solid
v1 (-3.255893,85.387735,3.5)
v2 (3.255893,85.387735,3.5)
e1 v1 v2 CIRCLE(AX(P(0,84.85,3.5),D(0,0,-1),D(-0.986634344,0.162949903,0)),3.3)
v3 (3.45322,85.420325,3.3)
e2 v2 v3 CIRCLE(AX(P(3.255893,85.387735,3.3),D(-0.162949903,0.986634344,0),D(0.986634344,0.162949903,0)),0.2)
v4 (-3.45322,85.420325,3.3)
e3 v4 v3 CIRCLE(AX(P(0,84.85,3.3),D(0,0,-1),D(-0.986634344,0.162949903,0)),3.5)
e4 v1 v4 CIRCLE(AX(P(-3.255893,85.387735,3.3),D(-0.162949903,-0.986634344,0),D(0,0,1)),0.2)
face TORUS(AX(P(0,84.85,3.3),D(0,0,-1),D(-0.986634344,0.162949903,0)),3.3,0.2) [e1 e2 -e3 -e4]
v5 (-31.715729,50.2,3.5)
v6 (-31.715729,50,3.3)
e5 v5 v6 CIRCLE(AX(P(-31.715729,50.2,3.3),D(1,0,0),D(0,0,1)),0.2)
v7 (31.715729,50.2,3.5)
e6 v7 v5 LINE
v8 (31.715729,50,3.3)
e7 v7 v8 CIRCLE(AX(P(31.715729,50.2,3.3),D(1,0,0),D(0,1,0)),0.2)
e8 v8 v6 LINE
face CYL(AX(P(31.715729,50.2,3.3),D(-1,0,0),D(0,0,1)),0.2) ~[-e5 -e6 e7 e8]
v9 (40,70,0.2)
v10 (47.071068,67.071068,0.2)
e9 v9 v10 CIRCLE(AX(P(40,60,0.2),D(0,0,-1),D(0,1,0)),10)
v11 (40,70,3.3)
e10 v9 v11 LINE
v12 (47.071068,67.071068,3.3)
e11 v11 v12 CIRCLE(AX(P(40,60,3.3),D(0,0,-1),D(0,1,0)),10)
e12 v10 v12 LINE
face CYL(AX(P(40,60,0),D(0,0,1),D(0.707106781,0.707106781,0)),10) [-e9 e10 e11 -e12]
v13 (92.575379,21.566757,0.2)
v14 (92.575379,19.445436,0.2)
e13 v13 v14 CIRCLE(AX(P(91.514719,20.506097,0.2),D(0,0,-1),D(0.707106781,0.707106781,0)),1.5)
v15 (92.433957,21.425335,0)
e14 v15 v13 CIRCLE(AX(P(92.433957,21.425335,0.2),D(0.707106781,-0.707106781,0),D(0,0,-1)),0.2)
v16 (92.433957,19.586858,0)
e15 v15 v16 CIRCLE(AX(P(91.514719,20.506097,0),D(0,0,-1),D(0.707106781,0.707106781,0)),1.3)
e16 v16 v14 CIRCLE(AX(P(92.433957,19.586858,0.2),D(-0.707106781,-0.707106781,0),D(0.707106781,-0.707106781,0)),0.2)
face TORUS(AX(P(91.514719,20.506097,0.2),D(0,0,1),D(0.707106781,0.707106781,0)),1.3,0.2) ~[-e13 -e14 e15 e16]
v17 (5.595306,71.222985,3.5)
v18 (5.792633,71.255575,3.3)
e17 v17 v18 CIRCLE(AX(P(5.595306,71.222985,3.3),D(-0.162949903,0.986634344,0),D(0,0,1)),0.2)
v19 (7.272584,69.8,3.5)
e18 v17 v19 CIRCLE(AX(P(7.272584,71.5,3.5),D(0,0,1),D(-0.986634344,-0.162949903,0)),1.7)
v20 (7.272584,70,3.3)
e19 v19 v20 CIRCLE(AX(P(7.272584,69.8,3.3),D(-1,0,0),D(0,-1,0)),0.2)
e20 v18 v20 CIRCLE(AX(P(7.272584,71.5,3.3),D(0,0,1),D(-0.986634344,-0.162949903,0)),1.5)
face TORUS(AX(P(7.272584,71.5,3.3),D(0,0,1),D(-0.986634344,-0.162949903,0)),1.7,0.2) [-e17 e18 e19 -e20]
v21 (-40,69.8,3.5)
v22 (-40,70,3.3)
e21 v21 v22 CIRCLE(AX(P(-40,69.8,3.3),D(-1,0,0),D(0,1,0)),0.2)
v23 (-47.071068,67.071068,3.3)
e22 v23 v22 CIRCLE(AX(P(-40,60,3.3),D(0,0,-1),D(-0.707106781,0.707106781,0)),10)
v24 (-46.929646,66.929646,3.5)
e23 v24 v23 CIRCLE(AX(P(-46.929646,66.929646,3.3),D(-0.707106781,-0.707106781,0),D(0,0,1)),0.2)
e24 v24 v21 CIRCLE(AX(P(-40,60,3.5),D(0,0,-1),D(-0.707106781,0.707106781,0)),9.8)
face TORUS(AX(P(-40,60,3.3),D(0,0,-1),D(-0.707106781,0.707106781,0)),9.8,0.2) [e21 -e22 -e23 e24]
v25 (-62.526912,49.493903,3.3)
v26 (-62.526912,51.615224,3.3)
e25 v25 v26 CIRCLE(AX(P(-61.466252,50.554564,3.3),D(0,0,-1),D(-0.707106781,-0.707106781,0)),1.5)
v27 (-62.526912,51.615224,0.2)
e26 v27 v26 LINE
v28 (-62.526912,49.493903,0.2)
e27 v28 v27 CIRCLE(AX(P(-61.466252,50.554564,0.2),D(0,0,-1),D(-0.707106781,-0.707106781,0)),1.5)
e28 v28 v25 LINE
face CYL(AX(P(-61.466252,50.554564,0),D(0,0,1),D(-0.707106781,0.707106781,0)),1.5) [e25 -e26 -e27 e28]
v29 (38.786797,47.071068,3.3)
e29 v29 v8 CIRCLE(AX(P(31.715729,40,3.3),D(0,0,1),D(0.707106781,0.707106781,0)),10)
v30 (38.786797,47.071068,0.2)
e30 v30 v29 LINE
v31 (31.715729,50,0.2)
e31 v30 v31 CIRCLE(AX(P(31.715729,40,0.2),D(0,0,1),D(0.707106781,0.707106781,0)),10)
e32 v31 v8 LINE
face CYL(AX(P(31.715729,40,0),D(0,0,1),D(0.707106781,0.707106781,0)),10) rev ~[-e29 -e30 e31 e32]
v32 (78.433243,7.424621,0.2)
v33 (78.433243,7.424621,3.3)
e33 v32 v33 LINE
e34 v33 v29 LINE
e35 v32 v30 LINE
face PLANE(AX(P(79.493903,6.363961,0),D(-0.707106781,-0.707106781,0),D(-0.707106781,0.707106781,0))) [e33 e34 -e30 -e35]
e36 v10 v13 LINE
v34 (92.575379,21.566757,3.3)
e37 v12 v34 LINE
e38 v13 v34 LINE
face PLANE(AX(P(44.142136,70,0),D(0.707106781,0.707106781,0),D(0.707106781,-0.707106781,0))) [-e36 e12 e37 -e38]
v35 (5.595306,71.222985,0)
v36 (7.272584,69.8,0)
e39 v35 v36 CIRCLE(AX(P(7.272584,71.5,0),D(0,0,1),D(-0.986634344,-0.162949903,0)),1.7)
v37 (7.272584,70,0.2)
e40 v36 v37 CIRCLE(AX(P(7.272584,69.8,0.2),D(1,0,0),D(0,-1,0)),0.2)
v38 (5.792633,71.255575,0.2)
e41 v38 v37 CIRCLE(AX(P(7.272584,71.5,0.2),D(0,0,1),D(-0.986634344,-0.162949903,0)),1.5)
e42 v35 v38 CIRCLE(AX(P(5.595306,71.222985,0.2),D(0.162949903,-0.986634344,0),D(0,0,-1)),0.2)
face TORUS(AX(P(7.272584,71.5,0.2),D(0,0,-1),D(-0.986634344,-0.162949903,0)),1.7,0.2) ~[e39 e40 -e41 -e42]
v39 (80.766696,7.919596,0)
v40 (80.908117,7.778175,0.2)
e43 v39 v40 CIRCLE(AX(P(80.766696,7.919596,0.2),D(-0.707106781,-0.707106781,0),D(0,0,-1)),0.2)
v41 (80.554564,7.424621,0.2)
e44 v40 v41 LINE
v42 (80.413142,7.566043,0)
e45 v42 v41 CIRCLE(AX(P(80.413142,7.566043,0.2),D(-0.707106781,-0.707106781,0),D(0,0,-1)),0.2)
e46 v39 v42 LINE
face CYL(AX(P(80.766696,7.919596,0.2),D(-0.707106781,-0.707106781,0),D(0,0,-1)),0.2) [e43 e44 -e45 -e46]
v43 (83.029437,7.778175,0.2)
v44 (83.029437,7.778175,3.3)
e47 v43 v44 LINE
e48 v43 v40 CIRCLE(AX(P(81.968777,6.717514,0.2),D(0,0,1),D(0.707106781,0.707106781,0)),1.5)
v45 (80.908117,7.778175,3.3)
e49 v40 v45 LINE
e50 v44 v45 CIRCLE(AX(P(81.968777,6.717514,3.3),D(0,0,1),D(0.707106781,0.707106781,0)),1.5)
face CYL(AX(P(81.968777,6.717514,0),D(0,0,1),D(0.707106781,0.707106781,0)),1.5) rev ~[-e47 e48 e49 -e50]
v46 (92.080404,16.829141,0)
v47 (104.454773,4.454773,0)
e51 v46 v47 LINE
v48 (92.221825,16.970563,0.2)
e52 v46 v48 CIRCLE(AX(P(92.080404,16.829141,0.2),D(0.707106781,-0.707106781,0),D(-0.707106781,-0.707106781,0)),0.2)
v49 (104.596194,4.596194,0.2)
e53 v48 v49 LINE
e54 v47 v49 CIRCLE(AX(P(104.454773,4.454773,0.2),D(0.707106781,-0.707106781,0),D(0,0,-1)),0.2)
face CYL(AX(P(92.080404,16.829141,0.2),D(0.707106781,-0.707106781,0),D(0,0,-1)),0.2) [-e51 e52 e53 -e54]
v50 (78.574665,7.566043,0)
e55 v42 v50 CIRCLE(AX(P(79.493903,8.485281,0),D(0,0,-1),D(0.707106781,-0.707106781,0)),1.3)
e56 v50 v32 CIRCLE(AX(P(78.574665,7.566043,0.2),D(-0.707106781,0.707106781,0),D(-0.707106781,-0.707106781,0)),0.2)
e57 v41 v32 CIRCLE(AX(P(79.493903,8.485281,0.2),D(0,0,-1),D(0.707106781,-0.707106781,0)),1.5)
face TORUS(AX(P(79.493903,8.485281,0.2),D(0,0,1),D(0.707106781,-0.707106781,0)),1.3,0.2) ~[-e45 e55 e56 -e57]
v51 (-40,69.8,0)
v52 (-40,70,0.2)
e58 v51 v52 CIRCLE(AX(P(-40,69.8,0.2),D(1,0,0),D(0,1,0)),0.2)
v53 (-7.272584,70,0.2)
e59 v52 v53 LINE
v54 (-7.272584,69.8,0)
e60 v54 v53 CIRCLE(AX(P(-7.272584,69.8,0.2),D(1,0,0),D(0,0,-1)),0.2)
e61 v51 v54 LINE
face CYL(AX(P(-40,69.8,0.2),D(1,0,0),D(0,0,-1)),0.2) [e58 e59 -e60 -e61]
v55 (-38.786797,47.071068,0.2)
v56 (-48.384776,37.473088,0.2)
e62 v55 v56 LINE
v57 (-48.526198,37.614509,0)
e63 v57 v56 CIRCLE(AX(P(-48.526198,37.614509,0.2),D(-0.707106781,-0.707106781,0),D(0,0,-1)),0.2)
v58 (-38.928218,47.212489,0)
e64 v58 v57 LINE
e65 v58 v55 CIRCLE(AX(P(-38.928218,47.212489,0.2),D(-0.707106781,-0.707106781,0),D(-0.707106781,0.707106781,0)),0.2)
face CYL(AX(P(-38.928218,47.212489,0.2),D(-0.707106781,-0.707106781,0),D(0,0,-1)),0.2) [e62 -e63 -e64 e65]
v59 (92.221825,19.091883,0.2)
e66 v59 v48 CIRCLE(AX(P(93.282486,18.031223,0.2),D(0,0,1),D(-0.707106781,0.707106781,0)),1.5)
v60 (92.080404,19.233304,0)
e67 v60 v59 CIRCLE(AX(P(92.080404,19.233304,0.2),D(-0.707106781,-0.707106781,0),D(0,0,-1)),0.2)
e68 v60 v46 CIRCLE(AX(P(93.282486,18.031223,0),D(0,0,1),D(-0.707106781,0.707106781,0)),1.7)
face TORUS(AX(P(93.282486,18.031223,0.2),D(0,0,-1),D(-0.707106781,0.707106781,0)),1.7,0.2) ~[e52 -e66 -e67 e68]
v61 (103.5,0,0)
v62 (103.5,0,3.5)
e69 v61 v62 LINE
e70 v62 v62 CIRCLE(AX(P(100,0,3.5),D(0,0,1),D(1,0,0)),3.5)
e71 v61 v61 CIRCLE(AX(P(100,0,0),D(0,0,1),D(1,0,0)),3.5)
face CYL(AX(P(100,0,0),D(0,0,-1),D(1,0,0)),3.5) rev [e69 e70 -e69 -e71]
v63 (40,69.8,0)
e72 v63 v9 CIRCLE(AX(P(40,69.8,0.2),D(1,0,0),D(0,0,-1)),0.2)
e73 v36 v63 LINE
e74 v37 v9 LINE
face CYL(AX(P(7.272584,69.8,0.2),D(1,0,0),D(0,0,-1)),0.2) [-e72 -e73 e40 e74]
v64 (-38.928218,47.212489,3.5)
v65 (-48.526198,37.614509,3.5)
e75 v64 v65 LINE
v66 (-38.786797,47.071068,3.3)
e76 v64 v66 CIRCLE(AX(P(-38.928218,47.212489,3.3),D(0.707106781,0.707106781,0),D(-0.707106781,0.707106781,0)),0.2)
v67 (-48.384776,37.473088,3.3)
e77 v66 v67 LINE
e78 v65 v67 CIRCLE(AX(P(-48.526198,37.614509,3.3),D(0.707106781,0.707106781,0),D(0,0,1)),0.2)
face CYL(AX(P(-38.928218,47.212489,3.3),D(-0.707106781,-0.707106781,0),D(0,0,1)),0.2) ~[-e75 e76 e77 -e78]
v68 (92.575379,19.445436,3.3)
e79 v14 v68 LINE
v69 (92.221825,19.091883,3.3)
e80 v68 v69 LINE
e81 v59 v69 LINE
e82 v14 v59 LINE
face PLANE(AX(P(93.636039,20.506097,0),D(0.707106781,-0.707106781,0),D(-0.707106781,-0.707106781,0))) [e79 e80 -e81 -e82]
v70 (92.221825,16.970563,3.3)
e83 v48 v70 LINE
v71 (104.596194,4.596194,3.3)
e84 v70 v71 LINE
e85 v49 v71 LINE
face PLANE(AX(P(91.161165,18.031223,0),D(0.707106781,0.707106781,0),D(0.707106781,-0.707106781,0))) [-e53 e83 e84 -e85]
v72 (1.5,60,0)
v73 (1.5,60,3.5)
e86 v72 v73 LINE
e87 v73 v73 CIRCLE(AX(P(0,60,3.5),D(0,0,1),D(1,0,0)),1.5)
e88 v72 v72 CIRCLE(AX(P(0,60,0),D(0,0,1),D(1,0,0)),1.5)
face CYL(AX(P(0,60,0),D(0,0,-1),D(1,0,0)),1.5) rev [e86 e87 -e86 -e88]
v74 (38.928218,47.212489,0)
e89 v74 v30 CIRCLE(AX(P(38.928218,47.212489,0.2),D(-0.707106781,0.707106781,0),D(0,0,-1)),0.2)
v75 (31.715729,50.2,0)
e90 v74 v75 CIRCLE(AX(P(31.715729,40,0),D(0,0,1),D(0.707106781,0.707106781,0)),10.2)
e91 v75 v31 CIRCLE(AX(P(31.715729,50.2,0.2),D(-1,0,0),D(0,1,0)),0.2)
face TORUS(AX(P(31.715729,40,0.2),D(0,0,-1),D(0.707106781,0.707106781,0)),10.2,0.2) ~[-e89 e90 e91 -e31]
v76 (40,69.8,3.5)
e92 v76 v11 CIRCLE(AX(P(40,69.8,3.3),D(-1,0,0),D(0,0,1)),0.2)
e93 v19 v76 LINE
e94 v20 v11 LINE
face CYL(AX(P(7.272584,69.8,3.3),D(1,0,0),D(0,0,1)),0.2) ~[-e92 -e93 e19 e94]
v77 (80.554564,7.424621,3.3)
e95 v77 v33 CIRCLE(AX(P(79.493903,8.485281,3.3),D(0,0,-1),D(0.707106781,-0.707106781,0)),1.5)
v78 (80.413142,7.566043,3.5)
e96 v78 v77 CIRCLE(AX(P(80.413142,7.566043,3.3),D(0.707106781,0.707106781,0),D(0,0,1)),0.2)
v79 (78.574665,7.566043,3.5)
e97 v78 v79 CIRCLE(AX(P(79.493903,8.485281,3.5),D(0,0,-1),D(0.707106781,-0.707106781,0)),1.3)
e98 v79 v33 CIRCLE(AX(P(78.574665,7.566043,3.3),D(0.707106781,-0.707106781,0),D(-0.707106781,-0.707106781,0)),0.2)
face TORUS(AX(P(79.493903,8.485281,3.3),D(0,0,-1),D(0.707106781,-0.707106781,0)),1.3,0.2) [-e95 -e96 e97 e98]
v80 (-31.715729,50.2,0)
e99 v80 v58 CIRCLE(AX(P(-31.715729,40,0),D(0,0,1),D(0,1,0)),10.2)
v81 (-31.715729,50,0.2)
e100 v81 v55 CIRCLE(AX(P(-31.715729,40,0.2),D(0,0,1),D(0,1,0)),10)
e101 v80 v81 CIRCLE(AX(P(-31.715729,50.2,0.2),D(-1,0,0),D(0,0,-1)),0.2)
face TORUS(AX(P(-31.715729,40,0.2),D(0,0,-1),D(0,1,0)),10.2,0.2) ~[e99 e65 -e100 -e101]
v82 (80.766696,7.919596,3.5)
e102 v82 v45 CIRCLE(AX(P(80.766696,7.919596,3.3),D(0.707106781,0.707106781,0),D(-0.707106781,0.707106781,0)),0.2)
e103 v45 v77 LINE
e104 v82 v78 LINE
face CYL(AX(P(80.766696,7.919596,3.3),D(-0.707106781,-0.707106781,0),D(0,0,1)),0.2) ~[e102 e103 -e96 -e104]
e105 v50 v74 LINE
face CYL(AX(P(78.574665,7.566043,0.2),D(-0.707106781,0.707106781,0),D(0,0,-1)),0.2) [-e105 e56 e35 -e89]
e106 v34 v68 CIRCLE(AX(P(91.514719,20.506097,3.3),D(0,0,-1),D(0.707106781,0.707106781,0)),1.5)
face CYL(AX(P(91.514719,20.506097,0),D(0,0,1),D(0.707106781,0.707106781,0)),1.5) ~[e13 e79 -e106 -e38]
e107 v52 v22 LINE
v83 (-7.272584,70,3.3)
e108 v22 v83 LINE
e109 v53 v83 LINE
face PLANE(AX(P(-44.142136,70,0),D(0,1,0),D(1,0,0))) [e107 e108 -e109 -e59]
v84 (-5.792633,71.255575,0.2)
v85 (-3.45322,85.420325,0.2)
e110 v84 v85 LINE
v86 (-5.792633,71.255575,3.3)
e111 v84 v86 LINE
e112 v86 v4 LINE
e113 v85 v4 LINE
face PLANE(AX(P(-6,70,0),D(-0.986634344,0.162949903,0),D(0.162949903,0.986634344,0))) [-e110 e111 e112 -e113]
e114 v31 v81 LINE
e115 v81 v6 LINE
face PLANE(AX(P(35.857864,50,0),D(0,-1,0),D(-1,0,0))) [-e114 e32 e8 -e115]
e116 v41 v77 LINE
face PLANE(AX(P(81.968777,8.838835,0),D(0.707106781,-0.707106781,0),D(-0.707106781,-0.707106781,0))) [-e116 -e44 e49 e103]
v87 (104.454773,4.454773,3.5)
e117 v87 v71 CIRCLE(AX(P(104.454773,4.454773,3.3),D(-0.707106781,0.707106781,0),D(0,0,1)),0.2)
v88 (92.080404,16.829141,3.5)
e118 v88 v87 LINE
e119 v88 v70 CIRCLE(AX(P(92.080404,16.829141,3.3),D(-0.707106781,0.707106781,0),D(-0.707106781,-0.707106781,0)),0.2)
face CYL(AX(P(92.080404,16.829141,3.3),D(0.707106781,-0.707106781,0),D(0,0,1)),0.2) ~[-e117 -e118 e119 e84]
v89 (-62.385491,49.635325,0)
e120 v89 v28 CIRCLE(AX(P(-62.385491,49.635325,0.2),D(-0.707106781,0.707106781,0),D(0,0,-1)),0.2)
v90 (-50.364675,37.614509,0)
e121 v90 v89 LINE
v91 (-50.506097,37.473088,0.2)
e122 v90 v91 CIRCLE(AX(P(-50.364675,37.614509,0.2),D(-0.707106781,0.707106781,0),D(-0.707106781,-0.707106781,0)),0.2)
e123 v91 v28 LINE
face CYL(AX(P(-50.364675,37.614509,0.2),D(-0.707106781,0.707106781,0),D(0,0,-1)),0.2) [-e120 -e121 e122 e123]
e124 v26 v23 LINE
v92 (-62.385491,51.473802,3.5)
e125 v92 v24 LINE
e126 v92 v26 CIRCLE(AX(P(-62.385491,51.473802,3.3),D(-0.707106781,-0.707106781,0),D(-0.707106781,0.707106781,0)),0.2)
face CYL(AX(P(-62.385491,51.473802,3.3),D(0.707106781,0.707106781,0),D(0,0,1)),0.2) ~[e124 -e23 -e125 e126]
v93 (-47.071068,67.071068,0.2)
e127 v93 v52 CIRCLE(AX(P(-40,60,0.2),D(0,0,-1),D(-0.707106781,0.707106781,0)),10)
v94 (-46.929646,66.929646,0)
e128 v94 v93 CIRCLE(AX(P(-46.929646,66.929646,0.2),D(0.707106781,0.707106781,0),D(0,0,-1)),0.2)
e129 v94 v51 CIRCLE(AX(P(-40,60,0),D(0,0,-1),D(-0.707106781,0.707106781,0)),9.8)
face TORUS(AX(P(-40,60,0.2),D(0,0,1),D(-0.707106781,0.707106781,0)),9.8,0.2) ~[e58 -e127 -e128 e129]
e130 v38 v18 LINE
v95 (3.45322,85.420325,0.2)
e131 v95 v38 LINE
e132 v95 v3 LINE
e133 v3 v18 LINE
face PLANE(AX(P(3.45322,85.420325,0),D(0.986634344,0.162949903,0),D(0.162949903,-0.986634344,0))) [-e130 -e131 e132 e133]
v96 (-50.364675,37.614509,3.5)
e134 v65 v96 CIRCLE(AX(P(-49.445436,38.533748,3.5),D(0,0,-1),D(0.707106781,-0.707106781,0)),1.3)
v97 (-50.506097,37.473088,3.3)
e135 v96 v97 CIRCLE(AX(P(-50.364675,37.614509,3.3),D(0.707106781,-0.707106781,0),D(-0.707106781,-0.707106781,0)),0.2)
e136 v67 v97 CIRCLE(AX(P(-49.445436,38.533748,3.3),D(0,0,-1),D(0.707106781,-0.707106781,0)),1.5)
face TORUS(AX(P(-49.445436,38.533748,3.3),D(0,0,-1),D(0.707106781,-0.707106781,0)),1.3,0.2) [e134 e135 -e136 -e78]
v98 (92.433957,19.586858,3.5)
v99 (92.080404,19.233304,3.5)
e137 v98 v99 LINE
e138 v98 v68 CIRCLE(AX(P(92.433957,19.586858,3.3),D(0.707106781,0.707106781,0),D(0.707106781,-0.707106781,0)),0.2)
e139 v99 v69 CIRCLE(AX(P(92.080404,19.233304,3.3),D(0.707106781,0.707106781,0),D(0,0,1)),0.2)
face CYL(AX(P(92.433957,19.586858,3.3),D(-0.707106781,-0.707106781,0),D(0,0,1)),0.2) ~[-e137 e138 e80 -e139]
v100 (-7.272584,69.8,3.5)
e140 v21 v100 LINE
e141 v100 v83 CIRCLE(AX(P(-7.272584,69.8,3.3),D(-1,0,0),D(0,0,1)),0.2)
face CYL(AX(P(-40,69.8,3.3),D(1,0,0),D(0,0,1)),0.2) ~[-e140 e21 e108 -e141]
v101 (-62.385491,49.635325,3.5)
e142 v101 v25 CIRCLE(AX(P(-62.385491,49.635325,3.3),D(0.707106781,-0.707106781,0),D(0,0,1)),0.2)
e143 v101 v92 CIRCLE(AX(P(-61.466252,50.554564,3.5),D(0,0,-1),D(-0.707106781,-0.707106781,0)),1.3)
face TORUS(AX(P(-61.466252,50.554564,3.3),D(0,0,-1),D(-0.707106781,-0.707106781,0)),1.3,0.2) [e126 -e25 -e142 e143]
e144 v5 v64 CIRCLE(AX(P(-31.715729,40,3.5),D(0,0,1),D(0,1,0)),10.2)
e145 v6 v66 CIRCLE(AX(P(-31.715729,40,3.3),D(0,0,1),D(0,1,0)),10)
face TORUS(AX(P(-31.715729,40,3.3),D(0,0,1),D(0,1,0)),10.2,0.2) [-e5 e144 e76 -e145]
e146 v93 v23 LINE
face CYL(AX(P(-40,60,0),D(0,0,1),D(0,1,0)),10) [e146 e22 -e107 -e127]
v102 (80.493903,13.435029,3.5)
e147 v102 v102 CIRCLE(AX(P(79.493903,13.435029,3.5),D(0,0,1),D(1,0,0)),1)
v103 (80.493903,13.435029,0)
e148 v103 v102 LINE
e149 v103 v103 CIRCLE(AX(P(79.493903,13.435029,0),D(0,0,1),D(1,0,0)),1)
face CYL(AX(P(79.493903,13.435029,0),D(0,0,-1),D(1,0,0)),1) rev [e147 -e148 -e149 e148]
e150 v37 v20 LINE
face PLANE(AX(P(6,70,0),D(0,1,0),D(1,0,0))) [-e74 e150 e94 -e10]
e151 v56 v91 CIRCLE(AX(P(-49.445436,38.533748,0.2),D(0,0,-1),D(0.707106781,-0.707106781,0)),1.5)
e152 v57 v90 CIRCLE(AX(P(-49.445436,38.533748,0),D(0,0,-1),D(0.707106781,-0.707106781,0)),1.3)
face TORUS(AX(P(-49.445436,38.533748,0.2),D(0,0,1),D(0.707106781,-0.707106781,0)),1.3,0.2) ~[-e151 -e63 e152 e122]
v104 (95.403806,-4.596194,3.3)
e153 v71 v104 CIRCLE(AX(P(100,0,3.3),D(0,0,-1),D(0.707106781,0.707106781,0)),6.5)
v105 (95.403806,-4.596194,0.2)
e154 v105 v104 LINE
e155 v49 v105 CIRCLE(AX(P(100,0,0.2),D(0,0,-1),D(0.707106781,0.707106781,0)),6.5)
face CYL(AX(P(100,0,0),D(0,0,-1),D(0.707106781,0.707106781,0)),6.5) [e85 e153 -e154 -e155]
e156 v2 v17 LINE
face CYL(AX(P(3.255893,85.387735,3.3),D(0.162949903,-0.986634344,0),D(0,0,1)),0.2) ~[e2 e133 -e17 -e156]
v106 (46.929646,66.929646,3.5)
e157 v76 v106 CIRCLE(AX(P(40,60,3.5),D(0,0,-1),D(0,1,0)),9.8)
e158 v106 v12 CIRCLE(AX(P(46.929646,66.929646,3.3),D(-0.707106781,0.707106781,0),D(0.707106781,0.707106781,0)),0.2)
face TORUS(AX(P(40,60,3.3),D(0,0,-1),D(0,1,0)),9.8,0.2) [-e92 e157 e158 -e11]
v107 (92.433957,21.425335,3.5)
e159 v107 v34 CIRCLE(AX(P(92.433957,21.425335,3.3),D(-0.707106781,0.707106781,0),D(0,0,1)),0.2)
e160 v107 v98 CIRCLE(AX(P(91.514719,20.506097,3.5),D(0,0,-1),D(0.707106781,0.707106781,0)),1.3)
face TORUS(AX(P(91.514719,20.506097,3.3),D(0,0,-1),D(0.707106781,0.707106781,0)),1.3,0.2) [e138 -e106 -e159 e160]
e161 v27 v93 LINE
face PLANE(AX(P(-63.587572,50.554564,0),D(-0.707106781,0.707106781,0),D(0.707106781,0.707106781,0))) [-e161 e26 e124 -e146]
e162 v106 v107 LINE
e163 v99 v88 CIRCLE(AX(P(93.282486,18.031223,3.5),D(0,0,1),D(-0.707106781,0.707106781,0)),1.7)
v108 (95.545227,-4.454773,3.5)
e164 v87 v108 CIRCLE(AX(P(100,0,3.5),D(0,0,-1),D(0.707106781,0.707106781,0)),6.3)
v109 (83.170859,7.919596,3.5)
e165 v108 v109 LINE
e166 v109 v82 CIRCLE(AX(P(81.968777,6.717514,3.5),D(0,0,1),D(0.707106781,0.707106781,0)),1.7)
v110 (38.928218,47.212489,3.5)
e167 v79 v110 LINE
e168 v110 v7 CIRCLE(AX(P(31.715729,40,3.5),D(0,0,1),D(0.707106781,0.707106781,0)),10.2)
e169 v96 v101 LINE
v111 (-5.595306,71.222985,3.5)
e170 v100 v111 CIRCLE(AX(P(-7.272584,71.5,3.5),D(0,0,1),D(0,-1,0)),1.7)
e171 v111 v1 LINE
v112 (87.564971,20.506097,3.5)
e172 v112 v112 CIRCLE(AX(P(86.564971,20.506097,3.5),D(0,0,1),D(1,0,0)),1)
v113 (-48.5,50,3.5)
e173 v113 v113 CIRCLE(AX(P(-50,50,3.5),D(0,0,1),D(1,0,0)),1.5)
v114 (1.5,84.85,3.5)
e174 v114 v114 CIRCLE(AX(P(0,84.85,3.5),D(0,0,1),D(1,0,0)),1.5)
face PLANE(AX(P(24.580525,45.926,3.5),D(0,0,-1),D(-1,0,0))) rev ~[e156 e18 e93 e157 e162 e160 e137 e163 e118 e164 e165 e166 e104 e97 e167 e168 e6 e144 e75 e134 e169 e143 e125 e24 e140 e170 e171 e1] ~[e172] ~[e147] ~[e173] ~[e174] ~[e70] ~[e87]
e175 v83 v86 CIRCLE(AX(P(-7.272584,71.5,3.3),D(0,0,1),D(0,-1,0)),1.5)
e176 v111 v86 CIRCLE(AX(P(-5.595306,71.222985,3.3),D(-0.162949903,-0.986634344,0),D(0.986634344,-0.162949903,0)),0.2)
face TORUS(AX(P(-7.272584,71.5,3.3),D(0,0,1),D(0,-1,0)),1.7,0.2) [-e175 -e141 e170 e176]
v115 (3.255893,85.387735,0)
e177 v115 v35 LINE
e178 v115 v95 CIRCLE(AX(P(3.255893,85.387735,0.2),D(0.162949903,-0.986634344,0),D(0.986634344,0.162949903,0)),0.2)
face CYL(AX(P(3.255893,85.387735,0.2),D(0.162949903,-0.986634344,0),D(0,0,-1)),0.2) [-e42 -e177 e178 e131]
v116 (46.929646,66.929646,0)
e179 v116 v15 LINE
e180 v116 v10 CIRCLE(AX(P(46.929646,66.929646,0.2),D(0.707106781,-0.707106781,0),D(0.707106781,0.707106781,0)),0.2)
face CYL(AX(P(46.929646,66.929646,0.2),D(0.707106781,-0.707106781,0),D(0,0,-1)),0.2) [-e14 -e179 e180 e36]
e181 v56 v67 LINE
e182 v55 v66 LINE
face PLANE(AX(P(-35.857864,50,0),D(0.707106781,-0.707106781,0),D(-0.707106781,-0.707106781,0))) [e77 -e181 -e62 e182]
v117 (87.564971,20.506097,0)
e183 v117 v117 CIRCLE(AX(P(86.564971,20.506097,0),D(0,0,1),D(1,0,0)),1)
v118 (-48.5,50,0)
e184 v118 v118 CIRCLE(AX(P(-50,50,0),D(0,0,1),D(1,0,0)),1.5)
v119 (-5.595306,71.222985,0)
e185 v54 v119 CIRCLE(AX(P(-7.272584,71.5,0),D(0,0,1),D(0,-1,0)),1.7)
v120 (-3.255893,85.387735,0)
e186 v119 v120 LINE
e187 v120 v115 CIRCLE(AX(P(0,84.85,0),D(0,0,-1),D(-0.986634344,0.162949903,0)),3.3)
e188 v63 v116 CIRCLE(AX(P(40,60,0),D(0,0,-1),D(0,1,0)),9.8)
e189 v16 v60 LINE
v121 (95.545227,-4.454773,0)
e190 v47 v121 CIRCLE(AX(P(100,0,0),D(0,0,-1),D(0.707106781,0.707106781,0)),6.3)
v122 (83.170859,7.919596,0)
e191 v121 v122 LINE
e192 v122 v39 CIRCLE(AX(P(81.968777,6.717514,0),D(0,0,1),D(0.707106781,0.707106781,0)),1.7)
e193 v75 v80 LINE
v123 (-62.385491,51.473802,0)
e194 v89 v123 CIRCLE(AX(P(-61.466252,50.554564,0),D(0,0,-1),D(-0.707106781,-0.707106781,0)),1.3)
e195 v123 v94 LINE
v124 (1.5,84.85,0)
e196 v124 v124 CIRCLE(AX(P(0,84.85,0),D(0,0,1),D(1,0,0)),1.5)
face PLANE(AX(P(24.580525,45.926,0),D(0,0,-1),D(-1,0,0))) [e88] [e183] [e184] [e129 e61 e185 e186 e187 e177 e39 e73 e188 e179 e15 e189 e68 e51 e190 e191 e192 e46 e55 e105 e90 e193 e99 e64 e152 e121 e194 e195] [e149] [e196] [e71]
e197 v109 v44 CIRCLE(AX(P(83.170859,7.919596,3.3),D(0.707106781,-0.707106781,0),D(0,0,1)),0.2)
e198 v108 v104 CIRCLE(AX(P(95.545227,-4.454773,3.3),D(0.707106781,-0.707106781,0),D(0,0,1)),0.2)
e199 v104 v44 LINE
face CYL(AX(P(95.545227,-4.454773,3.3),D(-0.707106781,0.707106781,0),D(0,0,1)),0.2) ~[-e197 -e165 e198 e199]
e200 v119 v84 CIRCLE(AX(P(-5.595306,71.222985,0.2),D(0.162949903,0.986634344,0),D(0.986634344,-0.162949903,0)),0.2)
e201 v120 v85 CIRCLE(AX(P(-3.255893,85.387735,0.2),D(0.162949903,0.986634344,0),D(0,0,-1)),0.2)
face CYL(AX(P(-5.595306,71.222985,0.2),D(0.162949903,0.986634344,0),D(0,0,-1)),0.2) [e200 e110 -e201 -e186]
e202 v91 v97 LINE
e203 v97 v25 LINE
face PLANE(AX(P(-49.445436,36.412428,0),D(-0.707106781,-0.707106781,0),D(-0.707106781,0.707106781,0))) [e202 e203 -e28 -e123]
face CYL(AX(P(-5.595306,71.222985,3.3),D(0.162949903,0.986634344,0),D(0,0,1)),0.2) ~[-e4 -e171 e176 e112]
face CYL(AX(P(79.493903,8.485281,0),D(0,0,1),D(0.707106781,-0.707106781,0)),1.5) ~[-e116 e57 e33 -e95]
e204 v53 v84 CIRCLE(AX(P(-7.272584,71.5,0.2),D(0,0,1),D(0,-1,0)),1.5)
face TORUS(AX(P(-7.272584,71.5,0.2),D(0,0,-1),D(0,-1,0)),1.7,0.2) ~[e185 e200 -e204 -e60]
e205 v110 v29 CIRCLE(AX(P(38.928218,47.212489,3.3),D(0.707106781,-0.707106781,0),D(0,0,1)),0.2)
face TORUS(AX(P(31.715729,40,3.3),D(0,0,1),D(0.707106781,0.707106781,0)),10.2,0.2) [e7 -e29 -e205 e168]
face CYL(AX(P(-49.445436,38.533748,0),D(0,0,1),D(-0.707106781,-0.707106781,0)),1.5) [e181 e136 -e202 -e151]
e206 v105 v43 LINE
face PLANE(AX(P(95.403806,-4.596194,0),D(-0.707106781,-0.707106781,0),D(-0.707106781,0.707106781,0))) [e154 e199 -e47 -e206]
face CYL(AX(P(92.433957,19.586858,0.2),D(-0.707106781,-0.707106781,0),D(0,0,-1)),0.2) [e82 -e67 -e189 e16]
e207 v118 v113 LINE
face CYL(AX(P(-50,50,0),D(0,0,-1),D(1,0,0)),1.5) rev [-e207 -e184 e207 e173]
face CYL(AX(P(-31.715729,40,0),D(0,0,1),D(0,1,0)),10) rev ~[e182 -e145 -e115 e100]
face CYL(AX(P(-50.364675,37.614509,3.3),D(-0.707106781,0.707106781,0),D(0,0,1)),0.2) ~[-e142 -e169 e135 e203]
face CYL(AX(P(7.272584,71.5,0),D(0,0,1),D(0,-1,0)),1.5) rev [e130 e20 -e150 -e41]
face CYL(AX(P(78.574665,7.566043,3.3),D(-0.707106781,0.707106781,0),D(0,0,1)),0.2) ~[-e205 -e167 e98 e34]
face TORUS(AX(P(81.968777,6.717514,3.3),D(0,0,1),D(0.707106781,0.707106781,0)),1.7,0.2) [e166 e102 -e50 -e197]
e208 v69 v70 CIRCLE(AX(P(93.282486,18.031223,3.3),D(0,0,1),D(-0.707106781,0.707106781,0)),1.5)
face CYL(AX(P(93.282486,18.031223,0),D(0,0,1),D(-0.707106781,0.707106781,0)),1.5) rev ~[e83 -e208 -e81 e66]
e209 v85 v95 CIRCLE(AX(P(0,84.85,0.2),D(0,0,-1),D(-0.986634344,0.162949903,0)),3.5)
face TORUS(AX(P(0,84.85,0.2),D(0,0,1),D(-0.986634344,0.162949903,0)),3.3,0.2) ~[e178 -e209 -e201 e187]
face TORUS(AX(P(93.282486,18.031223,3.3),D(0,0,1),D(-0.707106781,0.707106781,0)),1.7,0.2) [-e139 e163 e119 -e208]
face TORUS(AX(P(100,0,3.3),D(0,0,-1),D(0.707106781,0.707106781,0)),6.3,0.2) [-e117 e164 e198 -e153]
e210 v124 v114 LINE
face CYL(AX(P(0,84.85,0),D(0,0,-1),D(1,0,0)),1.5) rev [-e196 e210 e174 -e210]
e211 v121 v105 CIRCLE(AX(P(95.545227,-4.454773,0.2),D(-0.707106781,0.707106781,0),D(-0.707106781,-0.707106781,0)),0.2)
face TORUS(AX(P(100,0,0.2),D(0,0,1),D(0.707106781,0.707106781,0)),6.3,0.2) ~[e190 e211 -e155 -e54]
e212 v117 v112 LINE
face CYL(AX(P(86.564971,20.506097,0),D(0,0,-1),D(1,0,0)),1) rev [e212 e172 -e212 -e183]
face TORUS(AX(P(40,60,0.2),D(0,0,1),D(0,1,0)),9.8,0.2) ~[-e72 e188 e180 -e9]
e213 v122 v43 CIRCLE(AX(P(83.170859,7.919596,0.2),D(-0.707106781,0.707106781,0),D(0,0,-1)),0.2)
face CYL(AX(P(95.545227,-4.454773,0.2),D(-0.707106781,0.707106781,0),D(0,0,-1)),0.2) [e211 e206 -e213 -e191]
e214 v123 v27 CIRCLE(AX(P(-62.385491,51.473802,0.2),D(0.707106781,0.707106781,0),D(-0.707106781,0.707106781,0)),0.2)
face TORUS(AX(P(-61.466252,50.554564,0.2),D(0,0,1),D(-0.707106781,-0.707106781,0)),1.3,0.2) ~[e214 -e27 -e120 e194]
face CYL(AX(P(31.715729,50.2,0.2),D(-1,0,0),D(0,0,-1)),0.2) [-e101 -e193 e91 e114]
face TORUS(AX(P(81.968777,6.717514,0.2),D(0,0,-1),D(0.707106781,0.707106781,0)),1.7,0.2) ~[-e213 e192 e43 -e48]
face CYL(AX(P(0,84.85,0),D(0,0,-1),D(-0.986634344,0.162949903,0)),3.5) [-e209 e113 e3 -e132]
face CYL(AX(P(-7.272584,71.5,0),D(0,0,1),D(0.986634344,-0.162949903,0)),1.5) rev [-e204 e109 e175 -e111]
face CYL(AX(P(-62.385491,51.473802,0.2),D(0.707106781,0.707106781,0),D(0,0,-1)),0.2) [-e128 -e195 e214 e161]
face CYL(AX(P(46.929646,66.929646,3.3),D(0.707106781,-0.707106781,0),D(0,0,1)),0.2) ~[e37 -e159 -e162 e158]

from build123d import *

# Parameters (mm, degrees)
SKETCH5_R           = 3.5
SKETCH5_R_2         = 1.5
SKETCH5_R_3         = 1
BOSS_EXTRUDE1_DEPTH = 3.5
FILLET1_R           = 10
FILLET2_R           = 1.5
FILLET3_R           = 0.2


with BuildPart() as part:
    # Sketch5 → Boss-Extrude1 (new body)
    with BuildSketch(Plane.XY):
        with BuildLine():
            Line((91.161165235, 18.03122292), (104.596194078, 4.596194078))
            ThreePointArc((104.596194078, 4.596194078), (104.596194078, -4.596194078), (95.403805922, -4.596194078))
            Line((95.403805922, -4.596194078), (81.96877708, 8.838834765))
            Line((81.96877708, 8.838834765), (79.493903346, 6.363961031))
            Line((79.493903346, 6.363961031), (35.857864376, 50))
            Line((35.857864376, 50), (-35.857864376, 50))
            Line((-35.857864376, 50), (-49.445436483, 36.412427894))
            Line((-49.445436483, 36.412427894), (-63.587572106, 50.554563517))
            Line((-63.587572106, 50.554563517), (-44.142135624, 70))
            Line((-44.142135624, 70), (-6, 70))
            Line((-6, 70), (-3.453220204, 85.420324662))
            ThreePointArc((-3.453220204, 85.420324662), (0, 88.35), (3.453220204, 85.420324662))
            Line((3.453220204, 85.420324662), (6, 70))
            Line((6, 70), (44.142135624, 70))
            Line((44.142135624, 70), (93.636038969, 20.506096654))
            Line((93.636038969, 20.506096654), (91.161165235, 18.03122292))
        make_face()
        with Locations((100, 0)):
            Circle(SKETCH5_R, mode=Mode.SUBTRACT)
        with Locations((0, 84.85)):
            Circle(SKETCH5_R_2, mode=Mode.SUBTRACT)
        with Locations((0, 60)):
            Circle(SKETCH5_R_2, mode=Mode.SUBTRACT)
        with Locations((86.564971157, 20.506096654)):
            Circle(SKETCH5_R_3, mode=Mode.SUBTRACT)
        with Locations((79.493903346, 13.435028843)):
            Circle(SKETCH5_R_3, mode=Mode.SUBTRACT)
        with Locations((-50, 50)):
            Circle(SKETCH5_R_2, mode=Mode.SUBTRACT)
    extrude(amount=BOSS_EXTRUDE1_DEPTH)

    # Fillet1
    fillet1_edges = [part.edges().sort_by_distance(p)[0] for p in [
        (44.142135624, 70, 1.75),
        (35.857864376, 50, 1.75),
        (-35.857864376, 50, 1.75),
        (-44.142135624, 70, 1.75),
    ]]
    fillet(fillet1_edges, radius=FILLET1_R)

    # Fillet2
    fillet2_edges = [part.edges().sort_by_distance(p)[0] for p in [
        (93.636038969, 20.506096654, 1.75),
        (91.161165235, 18.03122292, 1.75),
        (81.96877708, 8.838834765, 1.75),
        (79.493903346, 6.363961031, 1.75),
        (-49.445436483, 36.412427894, 1.75),
        (-63.587572106, 50.554563517, 1.75),
        (-6, 70, 1.75),
        (6, 70, 1.75),
    ]]
    fillet(fillet2_edges, radius=FILLET2_R)

    # Fillet3
    fillet3_edges = [part.edges().sort_by_distance(p)[0] for p in [
        (89.216621587, 1.590990258, 3.5),
        (80.731340213, 7.601397898, 0),
        (80.731340213, 7.601397898, 3.5),
        (-23.636292033, 70, 0),
        (4.622926377, 78.337949903, 0),
        (69.823223305, 44.318912319, 0),
        (92.398602102, 19.268659787, 0),
        (-43.585786438, 42.272077939, 0),
        (-56.516504294, 43.483495706, 0),
        (-62.966251763, 50.554563517, 0),
        (-49.445436483, 37.033748237, 0),
        (93.014718626, 20.506096654, 0),
        (79.493903346, 6.985281374, 0),
        (-23.636292033, 70, 3.5),
        (-56.516504294, 43.483495706, 3.5),
        (-43.585786438, 42.272077939, 3.5),
        (92.398602102, 19.268659787, 3.5),
        (69.823223305, 44.318912319, 3.5),
        (4.622926377, 78.337949903, 3.5),
        (-62.966251763, 50.554563517, 3.5),
        (-49.445436483, 37.033748237, 3.5),
        (93.014718626, 20.506096654, 3.5),
        (79.493903346, 6.985281374, 3.5),
        (81.96877708, 8.217514421, 0),
        (81.96877708, 8.217514421, 3.5),
        (91.782485579, 18.03122292, 0),
        (91.782485579, 18.03122292, 3.5),
        (6.302181387, 70.356182427, 0),
        (6.302181387, 70.356182427, 3.5),
        (-6.302181387, 70.356182427, 0),
        (-6.302181387, 70.356182427, 3.5),
        (0, 88.35, 3.5),
        (98.409009742, 10.783378413, 0),
        (-4.622926377, 78.337949903, 3.5),
        (104.596194078, -4.596194078, 0),
        (-4.622926377, 78.337949903, 0),
        (0, 88.35, 0),
        (104.596194078, -4.596194078, 3.5),
        (98.409009742, 10.783378413, 3.5),
        (58.610019869, 27.247844507, 0),
        (58.610019869, 27.247844507, 3.5),
        (0, 50, 0),
        (0, 50, 3.5),
        (-54.798989873, 59.343145751, 0),
        (-54.798989873, 59.343145751, 3.5),
        (23.636292033, 70, 0),
        (43.826834324, 69.238795325, 0),
        (-43.826834324, 69.238795325, 0),
        (23.636292033, 70, 3.5),
        (43.826834324, 69.238795325, 3.5),
        (-43.826834324, 69.238795325, 3.5),
        (35.542563076, 49.238795325, 0),
        (35.542563076, 49.238795325, 3.5),
        (-35.542563076, 49.238795325, 0),
        (-35.542563076, 49.238795325, 3.5),
        (89.216621587, 1.590990258, 0),
    ]]
    fillet(fillet3_edges, radius=FILLET3_R)


solid = part.part
